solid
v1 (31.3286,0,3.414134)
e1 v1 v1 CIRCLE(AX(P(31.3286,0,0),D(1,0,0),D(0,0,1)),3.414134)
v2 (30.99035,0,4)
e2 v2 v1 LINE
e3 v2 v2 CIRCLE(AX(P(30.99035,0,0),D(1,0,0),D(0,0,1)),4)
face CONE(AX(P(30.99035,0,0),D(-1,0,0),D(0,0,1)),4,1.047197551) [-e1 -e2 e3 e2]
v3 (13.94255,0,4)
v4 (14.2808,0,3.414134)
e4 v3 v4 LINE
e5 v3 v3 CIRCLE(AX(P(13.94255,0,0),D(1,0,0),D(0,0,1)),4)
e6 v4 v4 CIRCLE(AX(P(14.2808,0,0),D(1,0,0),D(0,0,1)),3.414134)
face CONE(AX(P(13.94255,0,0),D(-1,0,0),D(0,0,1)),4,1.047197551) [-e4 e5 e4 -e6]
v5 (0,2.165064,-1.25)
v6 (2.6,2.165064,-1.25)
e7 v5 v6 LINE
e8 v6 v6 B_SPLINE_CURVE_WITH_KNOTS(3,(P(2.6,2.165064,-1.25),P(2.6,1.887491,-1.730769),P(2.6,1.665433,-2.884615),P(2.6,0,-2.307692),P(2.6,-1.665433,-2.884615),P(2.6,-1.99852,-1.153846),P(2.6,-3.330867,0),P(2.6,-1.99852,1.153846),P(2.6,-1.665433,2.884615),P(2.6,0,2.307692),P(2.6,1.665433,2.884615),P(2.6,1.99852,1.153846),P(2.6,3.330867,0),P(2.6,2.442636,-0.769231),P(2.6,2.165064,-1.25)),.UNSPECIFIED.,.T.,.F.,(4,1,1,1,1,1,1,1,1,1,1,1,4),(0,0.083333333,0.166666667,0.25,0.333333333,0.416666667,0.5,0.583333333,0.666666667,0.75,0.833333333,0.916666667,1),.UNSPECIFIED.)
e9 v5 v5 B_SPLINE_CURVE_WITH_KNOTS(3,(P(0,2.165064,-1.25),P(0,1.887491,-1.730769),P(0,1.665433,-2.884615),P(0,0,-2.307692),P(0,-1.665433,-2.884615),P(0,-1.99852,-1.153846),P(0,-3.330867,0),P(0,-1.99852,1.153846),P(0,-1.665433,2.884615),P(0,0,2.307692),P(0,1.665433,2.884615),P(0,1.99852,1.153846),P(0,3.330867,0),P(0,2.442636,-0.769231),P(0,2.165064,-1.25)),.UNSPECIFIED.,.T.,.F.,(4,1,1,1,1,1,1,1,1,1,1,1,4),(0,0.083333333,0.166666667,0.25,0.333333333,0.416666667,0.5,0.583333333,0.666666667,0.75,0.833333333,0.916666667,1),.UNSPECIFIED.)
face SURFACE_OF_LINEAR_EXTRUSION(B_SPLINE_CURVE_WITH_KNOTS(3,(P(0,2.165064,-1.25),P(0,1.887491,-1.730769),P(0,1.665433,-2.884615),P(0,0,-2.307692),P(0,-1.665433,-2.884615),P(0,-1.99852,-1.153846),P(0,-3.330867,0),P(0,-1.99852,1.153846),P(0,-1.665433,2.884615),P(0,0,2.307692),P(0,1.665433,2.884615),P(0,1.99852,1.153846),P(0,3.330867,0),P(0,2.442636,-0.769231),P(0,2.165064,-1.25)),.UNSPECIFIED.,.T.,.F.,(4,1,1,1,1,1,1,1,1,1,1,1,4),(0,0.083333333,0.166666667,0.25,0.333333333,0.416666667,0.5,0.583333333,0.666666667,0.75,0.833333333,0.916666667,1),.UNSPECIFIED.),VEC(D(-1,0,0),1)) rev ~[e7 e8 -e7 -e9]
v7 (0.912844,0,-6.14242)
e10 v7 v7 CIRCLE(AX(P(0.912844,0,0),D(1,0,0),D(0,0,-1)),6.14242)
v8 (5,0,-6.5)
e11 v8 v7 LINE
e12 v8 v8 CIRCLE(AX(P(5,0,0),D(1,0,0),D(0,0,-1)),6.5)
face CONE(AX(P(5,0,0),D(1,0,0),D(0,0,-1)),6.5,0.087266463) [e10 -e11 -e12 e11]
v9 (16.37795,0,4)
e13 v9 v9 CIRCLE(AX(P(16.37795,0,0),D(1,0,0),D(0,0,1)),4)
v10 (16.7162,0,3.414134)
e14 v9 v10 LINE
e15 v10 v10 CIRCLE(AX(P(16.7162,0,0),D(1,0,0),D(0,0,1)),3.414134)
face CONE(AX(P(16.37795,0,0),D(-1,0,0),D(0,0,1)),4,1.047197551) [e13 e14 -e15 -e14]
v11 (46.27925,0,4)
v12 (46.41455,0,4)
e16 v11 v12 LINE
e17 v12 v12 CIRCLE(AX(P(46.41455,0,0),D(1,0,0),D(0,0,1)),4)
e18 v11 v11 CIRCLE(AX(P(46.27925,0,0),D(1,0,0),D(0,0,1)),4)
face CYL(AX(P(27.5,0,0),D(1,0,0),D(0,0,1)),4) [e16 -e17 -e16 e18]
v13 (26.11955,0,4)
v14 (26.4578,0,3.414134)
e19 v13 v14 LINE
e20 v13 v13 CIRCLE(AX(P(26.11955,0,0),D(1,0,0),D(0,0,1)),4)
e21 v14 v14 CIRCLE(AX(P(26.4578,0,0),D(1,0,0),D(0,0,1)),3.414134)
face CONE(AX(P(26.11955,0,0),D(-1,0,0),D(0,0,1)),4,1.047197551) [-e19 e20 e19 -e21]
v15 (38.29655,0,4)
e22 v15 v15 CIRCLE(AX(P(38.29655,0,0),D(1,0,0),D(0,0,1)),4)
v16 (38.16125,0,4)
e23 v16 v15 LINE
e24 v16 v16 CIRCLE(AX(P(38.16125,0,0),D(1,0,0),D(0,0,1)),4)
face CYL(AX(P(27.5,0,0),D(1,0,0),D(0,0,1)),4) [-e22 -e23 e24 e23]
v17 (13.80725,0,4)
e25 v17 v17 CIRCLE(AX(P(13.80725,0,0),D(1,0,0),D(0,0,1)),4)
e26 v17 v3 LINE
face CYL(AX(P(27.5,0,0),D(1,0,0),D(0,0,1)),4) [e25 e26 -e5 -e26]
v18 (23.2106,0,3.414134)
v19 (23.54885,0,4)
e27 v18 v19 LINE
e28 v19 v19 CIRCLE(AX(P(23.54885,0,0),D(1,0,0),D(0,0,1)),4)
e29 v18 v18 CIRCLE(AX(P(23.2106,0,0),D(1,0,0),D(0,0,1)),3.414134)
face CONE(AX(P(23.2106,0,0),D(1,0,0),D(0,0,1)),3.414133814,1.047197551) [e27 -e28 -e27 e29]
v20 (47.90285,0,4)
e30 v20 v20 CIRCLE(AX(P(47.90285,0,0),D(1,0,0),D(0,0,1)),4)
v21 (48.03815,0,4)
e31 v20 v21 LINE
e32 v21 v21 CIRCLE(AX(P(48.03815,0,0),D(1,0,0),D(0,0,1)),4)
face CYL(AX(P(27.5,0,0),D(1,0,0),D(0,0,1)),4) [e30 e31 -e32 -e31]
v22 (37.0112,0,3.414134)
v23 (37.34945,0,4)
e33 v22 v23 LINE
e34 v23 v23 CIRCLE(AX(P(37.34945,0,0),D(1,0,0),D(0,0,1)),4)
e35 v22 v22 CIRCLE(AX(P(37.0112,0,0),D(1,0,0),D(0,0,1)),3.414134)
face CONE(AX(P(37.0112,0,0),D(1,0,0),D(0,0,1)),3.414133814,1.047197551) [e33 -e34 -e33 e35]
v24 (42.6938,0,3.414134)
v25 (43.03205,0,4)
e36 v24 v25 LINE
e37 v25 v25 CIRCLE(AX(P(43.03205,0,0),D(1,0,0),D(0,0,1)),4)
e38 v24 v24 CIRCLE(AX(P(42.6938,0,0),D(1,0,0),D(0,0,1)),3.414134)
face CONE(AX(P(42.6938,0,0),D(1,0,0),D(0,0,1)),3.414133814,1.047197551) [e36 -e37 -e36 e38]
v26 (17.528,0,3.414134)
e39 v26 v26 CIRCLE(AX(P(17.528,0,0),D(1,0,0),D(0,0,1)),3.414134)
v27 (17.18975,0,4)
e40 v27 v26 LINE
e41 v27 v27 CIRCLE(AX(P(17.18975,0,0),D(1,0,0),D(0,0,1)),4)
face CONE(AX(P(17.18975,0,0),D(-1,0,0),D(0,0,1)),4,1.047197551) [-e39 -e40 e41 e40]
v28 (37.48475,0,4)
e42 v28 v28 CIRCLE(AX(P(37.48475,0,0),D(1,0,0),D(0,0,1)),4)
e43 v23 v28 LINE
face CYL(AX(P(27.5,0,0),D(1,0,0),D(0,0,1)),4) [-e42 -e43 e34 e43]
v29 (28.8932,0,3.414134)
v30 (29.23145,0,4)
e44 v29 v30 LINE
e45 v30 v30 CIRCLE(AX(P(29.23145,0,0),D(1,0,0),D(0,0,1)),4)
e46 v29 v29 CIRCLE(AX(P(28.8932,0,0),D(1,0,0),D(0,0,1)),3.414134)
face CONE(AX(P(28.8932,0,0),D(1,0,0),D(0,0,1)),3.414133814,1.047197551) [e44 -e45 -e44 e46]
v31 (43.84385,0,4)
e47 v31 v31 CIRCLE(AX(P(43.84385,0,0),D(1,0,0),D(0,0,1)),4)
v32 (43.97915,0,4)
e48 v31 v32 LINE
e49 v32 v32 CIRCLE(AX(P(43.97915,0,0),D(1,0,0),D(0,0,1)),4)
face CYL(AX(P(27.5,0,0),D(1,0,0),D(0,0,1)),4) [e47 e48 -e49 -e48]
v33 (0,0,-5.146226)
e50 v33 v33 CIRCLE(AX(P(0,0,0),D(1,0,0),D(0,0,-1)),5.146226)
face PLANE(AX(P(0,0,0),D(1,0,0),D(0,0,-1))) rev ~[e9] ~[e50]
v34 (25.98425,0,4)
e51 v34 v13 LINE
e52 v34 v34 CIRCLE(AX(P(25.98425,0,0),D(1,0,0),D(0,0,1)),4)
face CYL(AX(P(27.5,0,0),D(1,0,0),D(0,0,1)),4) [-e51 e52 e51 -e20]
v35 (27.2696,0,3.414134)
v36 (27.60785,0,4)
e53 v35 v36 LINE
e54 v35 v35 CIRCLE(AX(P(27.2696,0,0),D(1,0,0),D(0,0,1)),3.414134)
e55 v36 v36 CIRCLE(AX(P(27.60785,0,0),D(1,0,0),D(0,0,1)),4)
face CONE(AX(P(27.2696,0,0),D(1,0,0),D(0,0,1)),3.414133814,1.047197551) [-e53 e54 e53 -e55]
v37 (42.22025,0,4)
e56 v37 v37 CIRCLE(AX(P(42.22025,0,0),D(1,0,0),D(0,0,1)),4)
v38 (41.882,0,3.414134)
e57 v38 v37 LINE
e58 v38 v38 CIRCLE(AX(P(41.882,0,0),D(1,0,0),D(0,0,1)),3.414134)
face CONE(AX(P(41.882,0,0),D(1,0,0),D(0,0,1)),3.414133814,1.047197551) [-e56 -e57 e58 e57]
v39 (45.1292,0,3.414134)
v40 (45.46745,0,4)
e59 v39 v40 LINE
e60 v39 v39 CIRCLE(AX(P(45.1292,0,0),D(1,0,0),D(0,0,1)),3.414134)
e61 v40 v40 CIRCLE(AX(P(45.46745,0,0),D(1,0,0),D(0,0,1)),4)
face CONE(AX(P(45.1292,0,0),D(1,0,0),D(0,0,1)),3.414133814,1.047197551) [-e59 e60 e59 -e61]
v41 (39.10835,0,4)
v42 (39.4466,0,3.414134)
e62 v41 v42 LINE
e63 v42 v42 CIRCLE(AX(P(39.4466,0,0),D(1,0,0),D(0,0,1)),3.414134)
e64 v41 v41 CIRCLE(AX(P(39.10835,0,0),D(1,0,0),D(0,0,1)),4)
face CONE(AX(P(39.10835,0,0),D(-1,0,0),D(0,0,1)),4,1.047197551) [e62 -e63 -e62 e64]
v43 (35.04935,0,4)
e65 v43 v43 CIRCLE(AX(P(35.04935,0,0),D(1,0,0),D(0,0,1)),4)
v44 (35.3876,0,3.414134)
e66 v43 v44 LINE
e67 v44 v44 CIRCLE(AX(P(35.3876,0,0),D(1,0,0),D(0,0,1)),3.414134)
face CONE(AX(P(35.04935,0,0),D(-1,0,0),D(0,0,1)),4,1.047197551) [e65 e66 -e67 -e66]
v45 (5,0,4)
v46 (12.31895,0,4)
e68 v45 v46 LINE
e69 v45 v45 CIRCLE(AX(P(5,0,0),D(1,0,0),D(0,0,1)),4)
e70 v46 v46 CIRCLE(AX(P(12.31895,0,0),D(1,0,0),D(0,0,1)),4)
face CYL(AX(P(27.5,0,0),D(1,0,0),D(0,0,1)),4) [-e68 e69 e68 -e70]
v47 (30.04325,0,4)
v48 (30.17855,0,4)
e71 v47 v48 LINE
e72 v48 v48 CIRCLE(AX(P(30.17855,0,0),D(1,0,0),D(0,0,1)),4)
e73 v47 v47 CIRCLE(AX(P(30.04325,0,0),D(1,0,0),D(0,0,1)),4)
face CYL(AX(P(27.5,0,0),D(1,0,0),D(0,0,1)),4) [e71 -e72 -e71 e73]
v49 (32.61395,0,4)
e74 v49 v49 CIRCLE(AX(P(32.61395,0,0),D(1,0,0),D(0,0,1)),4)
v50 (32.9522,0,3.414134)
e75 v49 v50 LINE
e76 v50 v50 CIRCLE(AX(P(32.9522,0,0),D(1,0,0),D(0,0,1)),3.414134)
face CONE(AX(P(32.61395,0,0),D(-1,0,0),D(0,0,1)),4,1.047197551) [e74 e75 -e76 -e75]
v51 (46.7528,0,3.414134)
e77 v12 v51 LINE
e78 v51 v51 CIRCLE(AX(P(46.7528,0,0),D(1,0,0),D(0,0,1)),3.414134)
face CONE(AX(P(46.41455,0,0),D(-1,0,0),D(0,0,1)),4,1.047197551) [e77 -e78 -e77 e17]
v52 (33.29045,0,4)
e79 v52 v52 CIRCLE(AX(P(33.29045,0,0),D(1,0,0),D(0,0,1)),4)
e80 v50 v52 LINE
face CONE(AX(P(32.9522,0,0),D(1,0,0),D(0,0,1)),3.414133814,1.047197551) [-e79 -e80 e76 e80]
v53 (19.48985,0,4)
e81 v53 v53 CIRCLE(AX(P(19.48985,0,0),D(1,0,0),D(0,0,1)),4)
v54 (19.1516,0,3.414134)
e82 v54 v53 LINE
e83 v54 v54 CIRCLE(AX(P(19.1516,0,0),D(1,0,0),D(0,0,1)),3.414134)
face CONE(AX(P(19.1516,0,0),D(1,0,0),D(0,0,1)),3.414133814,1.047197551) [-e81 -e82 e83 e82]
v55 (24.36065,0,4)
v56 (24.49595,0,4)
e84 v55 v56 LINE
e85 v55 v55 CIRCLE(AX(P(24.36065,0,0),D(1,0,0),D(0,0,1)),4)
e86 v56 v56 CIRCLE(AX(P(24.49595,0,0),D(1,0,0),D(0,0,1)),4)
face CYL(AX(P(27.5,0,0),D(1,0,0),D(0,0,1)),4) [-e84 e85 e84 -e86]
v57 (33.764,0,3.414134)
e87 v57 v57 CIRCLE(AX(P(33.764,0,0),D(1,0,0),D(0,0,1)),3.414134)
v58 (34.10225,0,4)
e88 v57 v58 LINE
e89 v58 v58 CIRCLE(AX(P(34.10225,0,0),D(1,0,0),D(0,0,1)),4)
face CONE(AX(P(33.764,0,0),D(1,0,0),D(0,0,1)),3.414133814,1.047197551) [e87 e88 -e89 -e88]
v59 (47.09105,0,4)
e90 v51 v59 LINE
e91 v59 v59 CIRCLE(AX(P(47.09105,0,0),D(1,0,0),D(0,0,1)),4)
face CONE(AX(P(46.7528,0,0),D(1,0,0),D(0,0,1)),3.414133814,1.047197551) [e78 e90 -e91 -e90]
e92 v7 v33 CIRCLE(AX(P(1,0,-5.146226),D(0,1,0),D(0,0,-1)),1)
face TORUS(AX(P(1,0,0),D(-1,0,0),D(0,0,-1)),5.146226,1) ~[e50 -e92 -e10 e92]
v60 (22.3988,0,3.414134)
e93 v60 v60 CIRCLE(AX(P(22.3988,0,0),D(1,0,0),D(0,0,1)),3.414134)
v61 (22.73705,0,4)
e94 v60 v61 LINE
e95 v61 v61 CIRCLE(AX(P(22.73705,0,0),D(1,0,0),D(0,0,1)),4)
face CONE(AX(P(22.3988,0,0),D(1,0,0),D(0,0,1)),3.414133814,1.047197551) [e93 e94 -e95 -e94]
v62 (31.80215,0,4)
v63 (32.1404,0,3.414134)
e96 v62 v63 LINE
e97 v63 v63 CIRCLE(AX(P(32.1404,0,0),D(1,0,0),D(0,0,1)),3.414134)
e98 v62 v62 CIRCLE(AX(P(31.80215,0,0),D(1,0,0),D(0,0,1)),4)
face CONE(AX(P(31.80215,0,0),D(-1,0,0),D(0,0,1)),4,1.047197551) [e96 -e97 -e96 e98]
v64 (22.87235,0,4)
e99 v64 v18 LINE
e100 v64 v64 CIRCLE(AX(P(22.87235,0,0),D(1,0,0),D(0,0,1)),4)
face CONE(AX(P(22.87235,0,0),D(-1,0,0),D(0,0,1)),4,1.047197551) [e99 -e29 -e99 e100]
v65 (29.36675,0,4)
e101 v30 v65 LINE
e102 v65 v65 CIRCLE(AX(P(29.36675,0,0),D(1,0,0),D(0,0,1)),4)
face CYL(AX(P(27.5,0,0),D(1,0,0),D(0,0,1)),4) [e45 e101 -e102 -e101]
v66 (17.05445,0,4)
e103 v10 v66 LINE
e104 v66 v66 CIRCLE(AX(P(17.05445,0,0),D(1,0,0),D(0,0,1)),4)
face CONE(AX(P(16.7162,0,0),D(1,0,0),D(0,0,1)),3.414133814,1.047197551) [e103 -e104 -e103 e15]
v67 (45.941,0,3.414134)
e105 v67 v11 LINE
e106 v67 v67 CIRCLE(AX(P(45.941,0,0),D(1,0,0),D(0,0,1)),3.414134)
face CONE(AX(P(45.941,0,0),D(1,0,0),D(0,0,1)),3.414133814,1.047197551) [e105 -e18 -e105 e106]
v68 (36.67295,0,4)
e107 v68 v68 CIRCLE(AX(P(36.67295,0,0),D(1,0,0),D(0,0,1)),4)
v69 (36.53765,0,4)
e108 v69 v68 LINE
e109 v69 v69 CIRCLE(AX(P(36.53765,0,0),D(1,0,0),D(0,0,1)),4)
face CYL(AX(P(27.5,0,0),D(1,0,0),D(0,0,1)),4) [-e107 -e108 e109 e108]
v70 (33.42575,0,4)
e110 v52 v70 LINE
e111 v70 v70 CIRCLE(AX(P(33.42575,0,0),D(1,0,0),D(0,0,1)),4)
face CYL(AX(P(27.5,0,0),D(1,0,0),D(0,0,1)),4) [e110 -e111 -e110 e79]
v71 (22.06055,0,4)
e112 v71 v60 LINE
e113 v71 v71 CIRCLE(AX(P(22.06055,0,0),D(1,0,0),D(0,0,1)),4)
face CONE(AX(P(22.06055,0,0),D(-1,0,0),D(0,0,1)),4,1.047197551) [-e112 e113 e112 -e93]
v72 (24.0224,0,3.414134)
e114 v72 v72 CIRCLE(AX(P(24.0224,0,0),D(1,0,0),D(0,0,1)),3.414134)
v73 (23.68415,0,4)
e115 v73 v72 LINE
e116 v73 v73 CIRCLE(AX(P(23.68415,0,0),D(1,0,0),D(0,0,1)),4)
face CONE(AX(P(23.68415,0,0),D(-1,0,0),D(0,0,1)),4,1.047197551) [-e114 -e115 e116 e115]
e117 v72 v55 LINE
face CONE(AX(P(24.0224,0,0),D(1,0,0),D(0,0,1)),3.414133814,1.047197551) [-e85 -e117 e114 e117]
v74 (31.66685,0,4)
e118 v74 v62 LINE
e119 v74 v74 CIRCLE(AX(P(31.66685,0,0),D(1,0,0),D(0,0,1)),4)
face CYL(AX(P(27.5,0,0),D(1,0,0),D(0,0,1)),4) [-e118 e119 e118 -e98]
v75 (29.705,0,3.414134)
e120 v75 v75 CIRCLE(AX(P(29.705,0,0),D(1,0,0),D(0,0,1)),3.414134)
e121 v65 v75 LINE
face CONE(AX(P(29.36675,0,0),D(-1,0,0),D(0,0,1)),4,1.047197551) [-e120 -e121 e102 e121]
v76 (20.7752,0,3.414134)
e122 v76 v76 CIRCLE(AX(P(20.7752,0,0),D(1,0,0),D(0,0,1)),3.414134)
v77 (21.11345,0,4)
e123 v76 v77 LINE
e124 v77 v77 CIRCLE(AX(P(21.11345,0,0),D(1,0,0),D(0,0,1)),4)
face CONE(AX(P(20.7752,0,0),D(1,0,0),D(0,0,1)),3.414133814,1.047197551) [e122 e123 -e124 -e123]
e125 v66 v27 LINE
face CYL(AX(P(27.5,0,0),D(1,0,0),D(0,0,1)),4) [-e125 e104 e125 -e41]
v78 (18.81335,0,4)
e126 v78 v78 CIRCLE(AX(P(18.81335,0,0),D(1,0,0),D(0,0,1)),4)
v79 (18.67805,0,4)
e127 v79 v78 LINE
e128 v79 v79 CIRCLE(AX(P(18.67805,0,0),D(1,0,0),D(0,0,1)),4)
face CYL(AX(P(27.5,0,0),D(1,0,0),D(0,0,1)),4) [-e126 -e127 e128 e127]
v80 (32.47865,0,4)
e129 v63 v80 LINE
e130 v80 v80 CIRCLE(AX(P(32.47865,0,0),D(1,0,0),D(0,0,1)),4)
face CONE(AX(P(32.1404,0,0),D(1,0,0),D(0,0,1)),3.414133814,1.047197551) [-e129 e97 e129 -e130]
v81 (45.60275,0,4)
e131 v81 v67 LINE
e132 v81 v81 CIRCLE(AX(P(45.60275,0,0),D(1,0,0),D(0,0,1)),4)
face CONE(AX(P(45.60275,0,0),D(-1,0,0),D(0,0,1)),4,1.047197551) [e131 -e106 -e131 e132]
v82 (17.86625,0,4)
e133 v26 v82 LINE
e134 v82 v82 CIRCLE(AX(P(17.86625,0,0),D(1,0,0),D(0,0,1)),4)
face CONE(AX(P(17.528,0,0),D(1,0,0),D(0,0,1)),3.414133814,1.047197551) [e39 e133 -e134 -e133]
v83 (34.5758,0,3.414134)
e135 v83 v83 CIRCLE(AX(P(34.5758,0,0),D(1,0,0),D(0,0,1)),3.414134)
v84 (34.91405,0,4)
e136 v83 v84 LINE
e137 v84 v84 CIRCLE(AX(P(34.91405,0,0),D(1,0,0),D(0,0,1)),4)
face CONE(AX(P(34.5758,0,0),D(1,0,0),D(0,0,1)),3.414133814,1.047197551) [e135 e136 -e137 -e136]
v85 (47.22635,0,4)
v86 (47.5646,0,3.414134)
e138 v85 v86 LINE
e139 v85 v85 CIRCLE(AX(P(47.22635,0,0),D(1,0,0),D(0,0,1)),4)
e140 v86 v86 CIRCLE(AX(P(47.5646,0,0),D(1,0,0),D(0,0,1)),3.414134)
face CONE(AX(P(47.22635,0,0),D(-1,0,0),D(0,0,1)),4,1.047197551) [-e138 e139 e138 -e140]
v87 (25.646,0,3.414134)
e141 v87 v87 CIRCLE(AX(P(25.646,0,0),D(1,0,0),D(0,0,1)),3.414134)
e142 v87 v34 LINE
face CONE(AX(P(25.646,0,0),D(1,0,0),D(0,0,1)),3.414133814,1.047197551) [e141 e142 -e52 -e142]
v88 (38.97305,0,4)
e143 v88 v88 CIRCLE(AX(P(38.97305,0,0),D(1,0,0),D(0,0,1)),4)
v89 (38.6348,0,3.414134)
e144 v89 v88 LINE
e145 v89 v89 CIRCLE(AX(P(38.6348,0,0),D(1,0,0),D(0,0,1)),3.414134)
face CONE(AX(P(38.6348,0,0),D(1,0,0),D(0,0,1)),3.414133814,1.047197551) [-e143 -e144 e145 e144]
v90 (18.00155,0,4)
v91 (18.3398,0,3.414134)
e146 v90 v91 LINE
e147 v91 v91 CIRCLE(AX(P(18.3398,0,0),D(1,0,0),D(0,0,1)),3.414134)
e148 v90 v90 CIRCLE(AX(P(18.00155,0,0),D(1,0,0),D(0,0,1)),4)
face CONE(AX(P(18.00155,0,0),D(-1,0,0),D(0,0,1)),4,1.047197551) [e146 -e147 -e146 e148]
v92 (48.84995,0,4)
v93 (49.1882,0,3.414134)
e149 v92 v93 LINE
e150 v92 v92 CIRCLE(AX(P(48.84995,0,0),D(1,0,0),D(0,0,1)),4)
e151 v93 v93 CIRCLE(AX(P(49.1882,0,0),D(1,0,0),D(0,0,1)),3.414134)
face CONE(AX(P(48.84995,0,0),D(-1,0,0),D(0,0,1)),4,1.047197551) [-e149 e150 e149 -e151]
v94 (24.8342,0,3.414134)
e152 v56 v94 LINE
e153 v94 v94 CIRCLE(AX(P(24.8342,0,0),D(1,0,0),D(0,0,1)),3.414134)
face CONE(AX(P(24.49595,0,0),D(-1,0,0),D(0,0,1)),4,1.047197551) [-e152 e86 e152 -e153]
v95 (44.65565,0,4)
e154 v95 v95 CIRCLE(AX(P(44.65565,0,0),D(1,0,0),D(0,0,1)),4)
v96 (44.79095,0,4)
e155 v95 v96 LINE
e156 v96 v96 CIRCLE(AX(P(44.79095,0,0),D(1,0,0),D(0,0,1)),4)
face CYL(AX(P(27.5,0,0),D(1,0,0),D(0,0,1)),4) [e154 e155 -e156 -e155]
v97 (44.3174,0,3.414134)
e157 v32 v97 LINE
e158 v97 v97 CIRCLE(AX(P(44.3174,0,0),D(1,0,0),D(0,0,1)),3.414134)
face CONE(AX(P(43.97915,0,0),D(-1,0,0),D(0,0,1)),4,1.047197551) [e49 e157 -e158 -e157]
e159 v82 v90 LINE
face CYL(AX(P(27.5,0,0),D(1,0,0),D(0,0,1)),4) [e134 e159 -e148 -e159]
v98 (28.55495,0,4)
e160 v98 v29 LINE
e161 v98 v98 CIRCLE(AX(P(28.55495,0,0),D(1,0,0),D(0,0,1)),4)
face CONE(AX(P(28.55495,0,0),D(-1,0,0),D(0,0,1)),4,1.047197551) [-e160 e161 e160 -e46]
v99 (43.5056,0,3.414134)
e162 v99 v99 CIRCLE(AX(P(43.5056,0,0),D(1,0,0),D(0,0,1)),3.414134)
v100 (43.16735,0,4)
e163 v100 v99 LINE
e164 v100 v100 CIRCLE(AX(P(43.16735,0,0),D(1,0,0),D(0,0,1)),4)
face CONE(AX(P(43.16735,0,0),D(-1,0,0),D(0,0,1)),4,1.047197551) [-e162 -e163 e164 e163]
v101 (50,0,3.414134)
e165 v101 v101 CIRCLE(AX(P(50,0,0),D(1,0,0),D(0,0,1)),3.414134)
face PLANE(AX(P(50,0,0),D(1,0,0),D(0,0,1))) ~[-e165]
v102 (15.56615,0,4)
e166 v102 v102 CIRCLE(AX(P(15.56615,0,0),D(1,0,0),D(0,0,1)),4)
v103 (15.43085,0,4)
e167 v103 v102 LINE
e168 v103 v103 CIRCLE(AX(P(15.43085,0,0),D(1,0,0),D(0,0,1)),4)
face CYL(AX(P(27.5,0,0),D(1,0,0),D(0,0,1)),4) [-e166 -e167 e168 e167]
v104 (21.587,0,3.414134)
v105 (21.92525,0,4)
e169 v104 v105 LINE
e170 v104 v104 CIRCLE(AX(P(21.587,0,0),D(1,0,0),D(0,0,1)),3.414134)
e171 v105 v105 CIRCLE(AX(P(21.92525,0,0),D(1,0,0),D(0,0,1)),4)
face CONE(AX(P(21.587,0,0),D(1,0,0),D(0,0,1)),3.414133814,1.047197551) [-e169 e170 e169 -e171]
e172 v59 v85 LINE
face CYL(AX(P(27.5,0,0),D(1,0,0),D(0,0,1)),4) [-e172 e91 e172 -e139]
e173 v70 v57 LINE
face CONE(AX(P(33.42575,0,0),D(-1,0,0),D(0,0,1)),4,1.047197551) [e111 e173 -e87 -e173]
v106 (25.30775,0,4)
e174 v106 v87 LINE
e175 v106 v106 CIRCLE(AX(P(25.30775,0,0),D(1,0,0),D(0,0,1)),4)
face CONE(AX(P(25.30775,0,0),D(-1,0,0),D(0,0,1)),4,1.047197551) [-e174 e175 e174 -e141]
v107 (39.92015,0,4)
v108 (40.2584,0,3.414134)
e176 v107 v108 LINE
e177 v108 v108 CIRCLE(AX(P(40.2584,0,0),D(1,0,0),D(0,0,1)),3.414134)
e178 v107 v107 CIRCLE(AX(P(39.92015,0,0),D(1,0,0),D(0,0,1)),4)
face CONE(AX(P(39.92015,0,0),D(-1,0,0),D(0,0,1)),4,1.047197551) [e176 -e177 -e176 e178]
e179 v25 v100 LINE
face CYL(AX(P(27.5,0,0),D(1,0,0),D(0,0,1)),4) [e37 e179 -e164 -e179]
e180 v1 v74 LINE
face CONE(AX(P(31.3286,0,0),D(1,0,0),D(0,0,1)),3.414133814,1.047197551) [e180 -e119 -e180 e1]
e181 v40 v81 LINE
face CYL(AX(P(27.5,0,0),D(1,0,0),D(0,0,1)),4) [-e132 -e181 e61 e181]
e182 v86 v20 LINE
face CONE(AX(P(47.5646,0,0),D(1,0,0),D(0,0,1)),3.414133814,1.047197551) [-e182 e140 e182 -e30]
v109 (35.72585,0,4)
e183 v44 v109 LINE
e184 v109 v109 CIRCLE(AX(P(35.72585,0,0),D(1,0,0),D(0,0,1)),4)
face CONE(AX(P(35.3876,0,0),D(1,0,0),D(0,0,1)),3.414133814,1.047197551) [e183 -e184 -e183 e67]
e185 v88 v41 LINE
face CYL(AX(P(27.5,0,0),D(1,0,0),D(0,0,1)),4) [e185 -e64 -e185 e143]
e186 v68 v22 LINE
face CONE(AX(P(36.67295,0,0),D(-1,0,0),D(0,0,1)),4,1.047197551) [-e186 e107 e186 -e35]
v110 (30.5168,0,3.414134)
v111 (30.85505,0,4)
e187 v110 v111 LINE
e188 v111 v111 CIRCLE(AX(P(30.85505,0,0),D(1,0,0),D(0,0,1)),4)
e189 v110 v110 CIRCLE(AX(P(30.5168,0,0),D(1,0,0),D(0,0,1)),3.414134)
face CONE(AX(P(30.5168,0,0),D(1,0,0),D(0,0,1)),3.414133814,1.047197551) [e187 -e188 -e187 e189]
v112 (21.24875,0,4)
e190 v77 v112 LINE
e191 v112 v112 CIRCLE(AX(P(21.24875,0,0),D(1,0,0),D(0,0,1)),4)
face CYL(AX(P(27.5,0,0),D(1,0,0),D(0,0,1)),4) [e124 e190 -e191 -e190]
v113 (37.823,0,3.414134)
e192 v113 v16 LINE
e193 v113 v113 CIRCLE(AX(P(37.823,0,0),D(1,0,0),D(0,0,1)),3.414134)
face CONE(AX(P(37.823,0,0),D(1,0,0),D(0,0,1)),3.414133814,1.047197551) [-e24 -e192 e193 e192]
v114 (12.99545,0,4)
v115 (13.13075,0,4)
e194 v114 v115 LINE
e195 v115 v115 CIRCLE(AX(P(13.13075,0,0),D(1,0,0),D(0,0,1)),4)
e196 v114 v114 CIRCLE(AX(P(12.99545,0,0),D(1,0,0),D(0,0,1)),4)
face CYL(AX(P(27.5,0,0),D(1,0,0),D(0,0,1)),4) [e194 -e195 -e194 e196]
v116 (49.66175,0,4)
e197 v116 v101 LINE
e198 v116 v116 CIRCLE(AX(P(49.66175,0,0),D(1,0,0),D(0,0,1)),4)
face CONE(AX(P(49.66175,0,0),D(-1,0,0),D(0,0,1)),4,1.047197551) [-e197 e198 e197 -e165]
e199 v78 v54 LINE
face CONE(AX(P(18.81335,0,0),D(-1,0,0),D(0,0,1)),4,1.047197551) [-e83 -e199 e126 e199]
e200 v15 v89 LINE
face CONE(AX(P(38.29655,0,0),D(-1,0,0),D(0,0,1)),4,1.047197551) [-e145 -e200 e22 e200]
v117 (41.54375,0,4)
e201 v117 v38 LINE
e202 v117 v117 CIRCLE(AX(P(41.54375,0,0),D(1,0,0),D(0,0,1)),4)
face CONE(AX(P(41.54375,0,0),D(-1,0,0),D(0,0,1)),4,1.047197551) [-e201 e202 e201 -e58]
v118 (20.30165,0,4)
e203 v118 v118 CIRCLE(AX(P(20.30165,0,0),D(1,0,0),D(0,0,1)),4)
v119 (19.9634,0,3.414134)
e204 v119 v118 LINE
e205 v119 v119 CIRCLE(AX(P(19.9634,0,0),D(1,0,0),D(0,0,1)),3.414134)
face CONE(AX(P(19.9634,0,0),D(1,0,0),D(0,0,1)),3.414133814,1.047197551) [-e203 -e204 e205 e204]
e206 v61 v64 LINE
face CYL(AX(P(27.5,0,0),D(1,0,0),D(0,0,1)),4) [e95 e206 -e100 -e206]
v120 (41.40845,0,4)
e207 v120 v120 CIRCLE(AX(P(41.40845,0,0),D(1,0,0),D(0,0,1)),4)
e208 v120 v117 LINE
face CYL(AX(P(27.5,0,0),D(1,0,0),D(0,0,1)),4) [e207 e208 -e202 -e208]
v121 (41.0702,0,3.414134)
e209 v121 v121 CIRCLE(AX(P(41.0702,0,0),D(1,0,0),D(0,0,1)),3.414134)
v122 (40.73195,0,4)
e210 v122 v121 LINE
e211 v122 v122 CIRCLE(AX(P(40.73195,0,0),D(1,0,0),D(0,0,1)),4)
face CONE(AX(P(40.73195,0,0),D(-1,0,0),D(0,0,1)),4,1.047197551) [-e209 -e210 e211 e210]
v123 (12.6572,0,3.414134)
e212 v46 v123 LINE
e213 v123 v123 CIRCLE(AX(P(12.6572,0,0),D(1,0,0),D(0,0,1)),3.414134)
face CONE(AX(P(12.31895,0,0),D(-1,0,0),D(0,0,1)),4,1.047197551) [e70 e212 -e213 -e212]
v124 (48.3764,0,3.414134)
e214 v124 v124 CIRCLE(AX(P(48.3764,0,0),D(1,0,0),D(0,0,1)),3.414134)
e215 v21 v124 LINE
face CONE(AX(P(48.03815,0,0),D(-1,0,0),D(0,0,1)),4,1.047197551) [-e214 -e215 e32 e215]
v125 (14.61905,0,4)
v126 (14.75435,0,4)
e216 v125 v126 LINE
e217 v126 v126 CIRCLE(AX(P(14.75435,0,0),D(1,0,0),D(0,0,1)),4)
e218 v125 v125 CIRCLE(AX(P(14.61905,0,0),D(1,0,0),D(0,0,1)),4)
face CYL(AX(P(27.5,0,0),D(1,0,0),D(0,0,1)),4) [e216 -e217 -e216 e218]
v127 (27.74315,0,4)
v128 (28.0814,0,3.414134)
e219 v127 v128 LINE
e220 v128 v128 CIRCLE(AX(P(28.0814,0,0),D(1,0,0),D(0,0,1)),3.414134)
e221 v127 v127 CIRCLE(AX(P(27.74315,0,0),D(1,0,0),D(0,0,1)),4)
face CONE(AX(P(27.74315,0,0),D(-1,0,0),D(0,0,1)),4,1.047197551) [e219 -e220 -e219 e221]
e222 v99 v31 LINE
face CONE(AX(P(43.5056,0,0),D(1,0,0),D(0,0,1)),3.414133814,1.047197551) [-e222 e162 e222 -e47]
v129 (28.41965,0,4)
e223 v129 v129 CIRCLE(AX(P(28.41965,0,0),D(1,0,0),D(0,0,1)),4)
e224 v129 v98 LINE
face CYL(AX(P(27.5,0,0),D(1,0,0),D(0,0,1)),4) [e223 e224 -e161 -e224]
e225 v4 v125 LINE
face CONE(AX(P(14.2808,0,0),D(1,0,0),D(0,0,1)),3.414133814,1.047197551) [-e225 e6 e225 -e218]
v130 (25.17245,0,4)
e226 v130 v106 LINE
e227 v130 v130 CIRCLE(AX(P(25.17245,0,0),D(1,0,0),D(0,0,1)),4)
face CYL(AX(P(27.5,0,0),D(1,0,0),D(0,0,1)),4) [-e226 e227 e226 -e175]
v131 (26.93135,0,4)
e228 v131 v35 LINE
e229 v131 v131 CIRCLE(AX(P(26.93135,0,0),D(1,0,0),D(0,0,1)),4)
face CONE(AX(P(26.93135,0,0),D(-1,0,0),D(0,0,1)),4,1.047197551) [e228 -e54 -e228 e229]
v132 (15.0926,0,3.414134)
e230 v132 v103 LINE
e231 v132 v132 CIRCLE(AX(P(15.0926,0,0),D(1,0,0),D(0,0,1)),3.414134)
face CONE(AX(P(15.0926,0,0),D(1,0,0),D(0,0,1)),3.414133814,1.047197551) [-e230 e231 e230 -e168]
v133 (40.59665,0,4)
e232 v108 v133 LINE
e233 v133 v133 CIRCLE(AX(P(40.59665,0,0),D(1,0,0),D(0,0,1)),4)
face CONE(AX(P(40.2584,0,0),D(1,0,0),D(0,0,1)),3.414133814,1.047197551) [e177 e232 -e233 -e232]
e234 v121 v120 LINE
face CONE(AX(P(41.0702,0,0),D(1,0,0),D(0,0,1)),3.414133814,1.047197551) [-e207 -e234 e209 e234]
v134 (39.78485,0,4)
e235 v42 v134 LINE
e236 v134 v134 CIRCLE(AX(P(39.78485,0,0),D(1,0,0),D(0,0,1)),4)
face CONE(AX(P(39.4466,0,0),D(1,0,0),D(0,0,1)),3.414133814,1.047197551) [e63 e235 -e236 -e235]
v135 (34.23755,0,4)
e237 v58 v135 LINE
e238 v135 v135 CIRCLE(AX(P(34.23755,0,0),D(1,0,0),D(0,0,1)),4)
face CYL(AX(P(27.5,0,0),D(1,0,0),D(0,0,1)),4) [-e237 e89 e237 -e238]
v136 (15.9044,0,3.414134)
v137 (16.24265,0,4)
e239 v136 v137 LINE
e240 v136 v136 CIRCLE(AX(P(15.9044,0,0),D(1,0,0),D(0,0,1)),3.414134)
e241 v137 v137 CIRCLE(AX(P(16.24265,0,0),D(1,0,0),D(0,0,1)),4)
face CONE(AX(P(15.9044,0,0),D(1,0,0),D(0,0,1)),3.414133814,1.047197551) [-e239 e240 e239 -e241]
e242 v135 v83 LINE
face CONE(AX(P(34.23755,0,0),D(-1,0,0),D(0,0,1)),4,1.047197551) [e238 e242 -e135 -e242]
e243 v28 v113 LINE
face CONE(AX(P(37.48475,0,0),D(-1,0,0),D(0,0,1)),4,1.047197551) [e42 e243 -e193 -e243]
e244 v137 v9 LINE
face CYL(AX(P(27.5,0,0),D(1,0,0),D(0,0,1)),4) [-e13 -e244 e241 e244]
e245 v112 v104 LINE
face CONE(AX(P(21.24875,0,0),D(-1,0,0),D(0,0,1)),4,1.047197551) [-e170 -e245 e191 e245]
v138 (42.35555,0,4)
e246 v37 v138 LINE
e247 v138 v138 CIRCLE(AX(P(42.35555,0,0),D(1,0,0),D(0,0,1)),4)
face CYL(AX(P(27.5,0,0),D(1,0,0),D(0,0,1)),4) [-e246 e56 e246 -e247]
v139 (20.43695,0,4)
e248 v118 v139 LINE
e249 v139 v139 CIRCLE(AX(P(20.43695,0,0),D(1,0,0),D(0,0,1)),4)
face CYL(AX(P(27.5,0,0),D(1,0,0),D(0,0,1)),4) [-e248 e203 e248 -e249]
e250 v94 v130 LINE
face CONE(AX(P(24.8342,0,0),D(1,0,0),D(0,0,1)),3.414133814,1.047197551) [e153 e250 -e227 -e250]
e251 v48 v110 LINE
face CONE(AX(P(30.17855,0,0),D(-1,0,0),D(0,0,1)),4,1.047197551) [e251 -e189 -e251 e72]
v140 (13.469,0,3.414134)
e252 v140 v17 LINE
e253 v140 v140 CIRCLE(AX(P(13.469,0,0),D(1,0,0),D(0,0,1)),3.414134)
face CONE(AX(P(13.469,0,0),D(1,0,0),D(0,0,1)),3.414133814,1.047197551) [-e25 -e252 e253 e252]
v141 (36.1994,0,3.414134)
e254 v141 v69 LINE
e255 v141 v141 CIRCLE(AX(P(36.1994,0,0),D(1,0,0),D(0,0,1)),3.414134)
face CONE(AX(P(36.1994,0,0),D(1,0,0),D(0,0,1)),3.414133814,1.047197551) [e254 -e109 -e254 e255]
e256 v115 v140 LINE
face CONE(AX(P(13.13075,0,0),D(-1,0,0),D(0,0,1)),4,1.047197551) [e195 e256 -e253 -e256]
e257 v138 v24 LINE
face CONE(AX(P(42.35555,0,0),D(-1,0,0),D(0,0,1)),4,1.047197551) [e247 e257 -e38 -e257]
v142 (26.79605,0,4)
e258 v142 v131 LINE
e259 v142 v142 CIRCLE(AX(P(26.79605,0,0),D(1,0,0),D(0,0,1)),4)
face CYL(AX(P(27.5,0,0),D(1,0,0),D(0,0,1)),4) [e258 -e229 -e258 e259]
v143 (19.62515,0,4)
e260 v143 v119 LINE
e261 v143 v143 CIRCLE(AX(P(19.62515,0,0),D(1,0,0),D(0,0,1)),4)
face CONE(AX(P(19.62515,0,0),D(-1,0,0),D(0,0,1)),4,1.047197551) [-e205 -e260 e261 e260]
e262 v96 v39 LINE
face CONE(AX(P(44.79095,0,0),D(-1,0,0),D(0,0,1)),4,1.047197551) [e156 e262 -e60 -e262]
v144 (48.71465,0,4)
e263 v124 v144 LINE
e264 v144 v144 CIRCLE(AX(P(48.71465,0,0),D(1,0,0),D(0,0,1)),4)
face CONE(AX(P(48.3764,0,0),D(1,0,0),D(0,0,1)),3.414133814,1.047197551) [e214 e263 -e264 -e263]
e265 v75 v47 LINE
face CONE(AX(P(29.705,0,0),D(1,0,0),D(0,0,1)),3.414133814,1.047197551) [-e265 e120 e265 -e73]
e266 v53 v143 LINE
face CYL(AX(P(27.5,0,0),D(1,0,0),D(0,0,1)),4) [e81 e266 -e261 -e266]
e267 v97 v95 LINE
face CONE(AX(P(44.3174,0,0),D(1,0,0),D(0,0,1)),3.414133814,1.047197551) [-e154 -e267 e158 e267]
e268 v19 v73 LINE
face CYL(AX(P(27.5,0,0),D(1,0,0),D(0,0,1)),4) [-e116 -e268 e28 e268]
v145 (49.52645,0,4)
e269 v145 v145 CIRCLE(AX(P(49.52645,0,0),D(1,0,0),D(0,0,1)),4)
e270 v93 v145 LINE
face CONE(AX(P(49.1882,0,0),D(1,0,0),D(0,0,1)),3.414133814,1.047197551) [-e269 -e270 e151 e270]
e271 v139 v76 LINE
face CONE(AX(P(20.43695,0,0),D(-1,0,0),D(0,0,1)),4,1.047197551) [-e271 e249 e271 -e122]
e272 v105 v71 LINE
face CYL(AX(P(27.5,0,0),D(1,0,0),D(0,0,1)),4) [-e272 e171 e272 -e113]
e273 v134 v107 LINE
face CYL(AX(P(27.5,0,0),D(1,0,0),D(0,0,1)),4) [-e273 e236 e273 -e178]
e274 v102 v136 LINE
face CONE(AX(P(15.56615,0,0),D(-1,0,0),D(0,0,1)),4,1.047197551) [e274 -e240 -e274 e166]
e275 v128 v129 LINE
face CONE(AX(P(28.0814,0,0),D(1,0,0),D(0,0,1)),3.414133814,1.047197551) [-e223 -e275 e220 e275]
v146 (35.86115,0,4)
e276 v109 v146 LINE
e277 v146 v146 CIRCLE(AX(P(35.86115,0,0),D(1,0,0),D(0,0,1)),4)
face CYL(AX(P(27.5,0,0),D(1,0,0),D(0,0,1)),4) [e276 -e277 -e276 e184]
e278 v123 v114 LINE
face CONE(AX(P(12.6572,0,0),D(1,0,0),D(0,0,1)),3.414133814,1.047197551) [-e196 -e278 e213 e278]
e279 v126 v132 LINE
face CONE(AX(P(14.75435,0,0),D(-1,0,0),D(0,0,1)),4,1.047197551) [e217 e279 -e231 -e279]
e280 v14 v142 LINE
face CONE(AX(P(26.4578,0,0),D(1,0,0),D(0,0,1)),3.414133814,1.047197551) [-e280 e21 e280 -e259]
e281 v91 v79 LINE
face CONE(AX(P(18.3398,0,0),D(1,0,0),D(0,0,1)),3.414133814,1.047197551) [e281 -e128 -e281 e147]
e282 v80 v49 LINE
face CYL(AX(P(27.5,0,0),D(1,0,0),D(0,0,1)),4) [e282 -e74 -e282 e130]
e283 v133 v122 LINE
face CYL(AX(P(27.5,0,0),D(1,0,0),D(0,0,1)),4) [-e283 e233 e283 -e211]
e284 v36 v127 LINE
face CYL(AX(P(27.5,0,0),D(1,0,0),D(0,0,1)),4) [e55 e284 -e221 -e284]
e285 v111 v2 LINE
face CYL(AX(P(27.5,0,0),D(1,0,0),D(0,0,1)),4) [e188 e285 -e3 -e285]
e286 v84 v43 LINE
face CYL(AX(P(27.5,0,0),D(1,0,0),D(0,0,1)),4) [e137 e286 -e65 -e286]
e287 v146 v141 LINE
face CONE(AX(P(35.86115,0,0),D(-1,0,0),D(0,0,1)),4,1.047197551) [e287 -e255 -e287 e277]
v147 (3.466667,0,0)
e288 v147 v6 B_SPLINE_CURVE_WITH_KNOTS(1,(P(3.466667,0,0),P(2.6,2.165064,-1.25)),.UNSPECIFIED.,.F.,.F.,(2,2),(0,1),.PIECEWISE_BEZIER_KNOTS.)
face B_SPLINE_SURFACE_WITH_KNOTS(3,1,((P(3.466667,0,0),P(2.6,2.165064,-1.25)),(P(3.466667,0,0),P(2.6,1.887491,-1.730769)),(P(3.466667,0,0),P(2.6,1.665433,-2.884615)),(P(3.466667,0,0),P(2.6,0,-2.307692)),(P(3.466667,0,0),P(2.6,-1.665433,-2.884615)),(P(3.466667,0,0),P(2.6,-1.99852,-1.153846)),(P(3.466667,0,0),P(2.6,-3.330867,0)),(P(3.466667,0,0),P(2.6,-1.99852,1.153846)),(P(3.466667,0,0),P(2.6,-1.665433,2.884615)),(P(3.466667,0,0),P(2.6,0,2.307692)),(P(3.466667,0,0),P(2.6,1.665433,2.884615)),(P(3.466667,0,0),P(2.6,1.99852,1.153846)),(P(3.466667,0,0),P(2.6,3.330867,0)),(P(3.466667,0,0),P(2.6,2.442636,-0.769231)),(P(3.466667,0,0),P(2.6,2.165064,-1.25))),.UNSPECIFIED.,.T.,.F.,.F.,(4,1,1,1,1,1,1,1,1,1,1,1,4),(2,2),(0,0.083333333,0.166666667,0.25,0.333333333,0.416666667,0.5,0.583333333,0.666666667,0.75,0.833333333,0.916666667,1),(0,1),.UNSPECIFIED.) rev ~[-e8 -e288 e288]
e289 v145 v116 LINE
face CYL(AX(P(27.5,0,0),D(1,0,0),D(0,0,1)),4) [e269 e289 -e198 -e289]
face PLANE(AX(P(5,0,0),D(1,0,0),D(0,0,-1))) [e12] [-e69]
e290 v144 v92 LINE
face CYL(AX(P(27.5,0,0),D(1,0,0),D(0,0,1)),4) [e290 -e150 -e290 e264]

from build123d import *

# Parameters (mm, degrees)
SKETCH1_R        = 6.5
BASEHEAD_DEPTH   = 5
BASEHEAD_DRAFT   = -5
SKETCH8_W        = 45
SKETCH8_H        = 4
SOCKET_DEPTH     = 2.6
HEADFILLET2_R    = 1
LPATTERN10_COUNT = 47
LPATTERN10_PITCH = 0.8118


with BuildPart() as part:
    # Sketch1 → BaseHead (with draft: the straight prism first)
    with BuildSketch(Plane(origin=(5, 0, 0), x_dir=(0, 0, -1), z_dir=(1, 0, 0))):
        Circle(SKETCH1_R)
    extrude(amount=-BASEHEAD_DEPTH)
    # BaseHead: the draft: its side faces are tilted about the plane it starts from
    basehead_sides = [part.faces().sort_by_distance(p)[0] for p in [
        (2.5, 0, 6.5),
    ]]
    draft(basehead_sides, Plane(origin=(5, 0, 0), x_dir=(0, 0, -1), z_dir=(1, 0, 0)), BASEHEAD_DRAFT)

    # Sketch8 → Revolve1 (revolve)
    with BuildSketch(Plane.XY, mode=Mode.PRIVATE) as revolve1_sk:
        with Locations((27.5, 2)):
            Rectangle(SKETCH8_W, SKETCH8_H)
    revolve(revolve1_sk.sketch.rotate(Axis((0, 0, 0), (1, 0, 0)), 90), axis=Axis((0, 0, 0), (1, 0, 0)))

    # Sketch4 → Socket (cut)
    with BuildSketch(Plane(origin=(0, 0, 0), x_dir=(0, 0, -1), z_dir=(1, 0, 0))):
        with BuildLine():
            add(Edge.make_bspline(
                [(1.25, 2.165063509), (1.730769231, 1.887491265), (2.884615385, 1.665433469), (2.307692308, 0), (2.884615385, -1.665433469), (1.153846154, -1.998520163), (0, -3.330866938), (-1.153846154, -1.998520163), (-2.884615385, -1.665433469), (-2.307692308, 0), (-2.884615385, 1.665433469), (-1.153846154, 1.998520163), (0, 3.330866938), (0.769230769, 2.442635754), (1.25, 2.165063509)],
                knots=[0, 0, 0, 0, 0.083333333, 0.166666667, 0.25, 0.333333333, 0.416666667, 0.5, 0.583333333, 0.666666667, 0.75, 0.833333333, 0.916666667, 1, 1, 1, 1], degree=3))
        make_face()
    extrude(amount=SOCKET_DEPTH, mode=Mode.SUBTRACT)

    # Sketch5 → Cut-Loft1 section 0
    with BuildSketch(Plane.ZY.offset(-2.6), mode=Mode.PRIVATE) as cut_loft1_s0:
        with BuildLine():
            add(Edge.make_bspline(
                [(-1.25, 2.165063509), (-1.730769231, 1.887491265), (-2.884615385, 1.665433469), (-2.307692308, 0), (-2.884615385, -1.665433469), (-1.153846154, -1.998520163), (0, -3.330866938), (1.153846154, -1.998520163), (2.884615385, -1.665433469), (2.307692308, 0), (2.884615385, 1.665433469), (1.153846154, 1.998520163), (0, 3.330866938), (-0.769230769, 2.442635754), (-1.25, 2.165063509)],
                knots=[0, 0, 0, 0, 0.083333333, 0.166666667, 0.25, 0.333333333, 0.416666667, 0.5, 0.583333333, 0.666666667, 0.75, 0.833333333, 0.916666667, 1, 1, 1, 1], degree=3))
        make_face()
    loft([Vertex(3.466666667, 0, 0), cut_loft1_s0.sketch], mode=Mode.SUBTRACT)

    # HeadFillet2
    headfillet2_edges = [part.edges().sort_by_distance(p)[0] for p in [
        (0, 0, 6.062556682),
    ]]
    fillet(headfillet2_edges, radius=HEADFILLET2_R)

    # Sketch9 → Cut-Revolve10 (revolve, cut)
    with BuildSketch(Plane.XY, mode=Mode.PRIVATE) as cut_revolve10_sk:
        Polygon((50, 3.414133814), (50.33825, 4), (50.33825, 4.6765), (49.66175, 4.6765), (49.66175, 4), align=None)
    cut_revolve10 = revolve(cut_revolve10_sk.sketch.rotate(Axis((0, 0, 0), (1, 0, 0)), 90), axis=Axis((0, 0, 0), (1, 0, 0)), mode=Mode.SUBTRACT)

    # LPattern10: Cut-Revolve10 ×47
    with Locations(*[(-i * LPATTERN10_PITCH, 0, 0) for i in range(1, LPATTERN10_COUNT)]):
        add(cut_revolve10, mode=Mode.SUBTRACT)


solid = part.part
